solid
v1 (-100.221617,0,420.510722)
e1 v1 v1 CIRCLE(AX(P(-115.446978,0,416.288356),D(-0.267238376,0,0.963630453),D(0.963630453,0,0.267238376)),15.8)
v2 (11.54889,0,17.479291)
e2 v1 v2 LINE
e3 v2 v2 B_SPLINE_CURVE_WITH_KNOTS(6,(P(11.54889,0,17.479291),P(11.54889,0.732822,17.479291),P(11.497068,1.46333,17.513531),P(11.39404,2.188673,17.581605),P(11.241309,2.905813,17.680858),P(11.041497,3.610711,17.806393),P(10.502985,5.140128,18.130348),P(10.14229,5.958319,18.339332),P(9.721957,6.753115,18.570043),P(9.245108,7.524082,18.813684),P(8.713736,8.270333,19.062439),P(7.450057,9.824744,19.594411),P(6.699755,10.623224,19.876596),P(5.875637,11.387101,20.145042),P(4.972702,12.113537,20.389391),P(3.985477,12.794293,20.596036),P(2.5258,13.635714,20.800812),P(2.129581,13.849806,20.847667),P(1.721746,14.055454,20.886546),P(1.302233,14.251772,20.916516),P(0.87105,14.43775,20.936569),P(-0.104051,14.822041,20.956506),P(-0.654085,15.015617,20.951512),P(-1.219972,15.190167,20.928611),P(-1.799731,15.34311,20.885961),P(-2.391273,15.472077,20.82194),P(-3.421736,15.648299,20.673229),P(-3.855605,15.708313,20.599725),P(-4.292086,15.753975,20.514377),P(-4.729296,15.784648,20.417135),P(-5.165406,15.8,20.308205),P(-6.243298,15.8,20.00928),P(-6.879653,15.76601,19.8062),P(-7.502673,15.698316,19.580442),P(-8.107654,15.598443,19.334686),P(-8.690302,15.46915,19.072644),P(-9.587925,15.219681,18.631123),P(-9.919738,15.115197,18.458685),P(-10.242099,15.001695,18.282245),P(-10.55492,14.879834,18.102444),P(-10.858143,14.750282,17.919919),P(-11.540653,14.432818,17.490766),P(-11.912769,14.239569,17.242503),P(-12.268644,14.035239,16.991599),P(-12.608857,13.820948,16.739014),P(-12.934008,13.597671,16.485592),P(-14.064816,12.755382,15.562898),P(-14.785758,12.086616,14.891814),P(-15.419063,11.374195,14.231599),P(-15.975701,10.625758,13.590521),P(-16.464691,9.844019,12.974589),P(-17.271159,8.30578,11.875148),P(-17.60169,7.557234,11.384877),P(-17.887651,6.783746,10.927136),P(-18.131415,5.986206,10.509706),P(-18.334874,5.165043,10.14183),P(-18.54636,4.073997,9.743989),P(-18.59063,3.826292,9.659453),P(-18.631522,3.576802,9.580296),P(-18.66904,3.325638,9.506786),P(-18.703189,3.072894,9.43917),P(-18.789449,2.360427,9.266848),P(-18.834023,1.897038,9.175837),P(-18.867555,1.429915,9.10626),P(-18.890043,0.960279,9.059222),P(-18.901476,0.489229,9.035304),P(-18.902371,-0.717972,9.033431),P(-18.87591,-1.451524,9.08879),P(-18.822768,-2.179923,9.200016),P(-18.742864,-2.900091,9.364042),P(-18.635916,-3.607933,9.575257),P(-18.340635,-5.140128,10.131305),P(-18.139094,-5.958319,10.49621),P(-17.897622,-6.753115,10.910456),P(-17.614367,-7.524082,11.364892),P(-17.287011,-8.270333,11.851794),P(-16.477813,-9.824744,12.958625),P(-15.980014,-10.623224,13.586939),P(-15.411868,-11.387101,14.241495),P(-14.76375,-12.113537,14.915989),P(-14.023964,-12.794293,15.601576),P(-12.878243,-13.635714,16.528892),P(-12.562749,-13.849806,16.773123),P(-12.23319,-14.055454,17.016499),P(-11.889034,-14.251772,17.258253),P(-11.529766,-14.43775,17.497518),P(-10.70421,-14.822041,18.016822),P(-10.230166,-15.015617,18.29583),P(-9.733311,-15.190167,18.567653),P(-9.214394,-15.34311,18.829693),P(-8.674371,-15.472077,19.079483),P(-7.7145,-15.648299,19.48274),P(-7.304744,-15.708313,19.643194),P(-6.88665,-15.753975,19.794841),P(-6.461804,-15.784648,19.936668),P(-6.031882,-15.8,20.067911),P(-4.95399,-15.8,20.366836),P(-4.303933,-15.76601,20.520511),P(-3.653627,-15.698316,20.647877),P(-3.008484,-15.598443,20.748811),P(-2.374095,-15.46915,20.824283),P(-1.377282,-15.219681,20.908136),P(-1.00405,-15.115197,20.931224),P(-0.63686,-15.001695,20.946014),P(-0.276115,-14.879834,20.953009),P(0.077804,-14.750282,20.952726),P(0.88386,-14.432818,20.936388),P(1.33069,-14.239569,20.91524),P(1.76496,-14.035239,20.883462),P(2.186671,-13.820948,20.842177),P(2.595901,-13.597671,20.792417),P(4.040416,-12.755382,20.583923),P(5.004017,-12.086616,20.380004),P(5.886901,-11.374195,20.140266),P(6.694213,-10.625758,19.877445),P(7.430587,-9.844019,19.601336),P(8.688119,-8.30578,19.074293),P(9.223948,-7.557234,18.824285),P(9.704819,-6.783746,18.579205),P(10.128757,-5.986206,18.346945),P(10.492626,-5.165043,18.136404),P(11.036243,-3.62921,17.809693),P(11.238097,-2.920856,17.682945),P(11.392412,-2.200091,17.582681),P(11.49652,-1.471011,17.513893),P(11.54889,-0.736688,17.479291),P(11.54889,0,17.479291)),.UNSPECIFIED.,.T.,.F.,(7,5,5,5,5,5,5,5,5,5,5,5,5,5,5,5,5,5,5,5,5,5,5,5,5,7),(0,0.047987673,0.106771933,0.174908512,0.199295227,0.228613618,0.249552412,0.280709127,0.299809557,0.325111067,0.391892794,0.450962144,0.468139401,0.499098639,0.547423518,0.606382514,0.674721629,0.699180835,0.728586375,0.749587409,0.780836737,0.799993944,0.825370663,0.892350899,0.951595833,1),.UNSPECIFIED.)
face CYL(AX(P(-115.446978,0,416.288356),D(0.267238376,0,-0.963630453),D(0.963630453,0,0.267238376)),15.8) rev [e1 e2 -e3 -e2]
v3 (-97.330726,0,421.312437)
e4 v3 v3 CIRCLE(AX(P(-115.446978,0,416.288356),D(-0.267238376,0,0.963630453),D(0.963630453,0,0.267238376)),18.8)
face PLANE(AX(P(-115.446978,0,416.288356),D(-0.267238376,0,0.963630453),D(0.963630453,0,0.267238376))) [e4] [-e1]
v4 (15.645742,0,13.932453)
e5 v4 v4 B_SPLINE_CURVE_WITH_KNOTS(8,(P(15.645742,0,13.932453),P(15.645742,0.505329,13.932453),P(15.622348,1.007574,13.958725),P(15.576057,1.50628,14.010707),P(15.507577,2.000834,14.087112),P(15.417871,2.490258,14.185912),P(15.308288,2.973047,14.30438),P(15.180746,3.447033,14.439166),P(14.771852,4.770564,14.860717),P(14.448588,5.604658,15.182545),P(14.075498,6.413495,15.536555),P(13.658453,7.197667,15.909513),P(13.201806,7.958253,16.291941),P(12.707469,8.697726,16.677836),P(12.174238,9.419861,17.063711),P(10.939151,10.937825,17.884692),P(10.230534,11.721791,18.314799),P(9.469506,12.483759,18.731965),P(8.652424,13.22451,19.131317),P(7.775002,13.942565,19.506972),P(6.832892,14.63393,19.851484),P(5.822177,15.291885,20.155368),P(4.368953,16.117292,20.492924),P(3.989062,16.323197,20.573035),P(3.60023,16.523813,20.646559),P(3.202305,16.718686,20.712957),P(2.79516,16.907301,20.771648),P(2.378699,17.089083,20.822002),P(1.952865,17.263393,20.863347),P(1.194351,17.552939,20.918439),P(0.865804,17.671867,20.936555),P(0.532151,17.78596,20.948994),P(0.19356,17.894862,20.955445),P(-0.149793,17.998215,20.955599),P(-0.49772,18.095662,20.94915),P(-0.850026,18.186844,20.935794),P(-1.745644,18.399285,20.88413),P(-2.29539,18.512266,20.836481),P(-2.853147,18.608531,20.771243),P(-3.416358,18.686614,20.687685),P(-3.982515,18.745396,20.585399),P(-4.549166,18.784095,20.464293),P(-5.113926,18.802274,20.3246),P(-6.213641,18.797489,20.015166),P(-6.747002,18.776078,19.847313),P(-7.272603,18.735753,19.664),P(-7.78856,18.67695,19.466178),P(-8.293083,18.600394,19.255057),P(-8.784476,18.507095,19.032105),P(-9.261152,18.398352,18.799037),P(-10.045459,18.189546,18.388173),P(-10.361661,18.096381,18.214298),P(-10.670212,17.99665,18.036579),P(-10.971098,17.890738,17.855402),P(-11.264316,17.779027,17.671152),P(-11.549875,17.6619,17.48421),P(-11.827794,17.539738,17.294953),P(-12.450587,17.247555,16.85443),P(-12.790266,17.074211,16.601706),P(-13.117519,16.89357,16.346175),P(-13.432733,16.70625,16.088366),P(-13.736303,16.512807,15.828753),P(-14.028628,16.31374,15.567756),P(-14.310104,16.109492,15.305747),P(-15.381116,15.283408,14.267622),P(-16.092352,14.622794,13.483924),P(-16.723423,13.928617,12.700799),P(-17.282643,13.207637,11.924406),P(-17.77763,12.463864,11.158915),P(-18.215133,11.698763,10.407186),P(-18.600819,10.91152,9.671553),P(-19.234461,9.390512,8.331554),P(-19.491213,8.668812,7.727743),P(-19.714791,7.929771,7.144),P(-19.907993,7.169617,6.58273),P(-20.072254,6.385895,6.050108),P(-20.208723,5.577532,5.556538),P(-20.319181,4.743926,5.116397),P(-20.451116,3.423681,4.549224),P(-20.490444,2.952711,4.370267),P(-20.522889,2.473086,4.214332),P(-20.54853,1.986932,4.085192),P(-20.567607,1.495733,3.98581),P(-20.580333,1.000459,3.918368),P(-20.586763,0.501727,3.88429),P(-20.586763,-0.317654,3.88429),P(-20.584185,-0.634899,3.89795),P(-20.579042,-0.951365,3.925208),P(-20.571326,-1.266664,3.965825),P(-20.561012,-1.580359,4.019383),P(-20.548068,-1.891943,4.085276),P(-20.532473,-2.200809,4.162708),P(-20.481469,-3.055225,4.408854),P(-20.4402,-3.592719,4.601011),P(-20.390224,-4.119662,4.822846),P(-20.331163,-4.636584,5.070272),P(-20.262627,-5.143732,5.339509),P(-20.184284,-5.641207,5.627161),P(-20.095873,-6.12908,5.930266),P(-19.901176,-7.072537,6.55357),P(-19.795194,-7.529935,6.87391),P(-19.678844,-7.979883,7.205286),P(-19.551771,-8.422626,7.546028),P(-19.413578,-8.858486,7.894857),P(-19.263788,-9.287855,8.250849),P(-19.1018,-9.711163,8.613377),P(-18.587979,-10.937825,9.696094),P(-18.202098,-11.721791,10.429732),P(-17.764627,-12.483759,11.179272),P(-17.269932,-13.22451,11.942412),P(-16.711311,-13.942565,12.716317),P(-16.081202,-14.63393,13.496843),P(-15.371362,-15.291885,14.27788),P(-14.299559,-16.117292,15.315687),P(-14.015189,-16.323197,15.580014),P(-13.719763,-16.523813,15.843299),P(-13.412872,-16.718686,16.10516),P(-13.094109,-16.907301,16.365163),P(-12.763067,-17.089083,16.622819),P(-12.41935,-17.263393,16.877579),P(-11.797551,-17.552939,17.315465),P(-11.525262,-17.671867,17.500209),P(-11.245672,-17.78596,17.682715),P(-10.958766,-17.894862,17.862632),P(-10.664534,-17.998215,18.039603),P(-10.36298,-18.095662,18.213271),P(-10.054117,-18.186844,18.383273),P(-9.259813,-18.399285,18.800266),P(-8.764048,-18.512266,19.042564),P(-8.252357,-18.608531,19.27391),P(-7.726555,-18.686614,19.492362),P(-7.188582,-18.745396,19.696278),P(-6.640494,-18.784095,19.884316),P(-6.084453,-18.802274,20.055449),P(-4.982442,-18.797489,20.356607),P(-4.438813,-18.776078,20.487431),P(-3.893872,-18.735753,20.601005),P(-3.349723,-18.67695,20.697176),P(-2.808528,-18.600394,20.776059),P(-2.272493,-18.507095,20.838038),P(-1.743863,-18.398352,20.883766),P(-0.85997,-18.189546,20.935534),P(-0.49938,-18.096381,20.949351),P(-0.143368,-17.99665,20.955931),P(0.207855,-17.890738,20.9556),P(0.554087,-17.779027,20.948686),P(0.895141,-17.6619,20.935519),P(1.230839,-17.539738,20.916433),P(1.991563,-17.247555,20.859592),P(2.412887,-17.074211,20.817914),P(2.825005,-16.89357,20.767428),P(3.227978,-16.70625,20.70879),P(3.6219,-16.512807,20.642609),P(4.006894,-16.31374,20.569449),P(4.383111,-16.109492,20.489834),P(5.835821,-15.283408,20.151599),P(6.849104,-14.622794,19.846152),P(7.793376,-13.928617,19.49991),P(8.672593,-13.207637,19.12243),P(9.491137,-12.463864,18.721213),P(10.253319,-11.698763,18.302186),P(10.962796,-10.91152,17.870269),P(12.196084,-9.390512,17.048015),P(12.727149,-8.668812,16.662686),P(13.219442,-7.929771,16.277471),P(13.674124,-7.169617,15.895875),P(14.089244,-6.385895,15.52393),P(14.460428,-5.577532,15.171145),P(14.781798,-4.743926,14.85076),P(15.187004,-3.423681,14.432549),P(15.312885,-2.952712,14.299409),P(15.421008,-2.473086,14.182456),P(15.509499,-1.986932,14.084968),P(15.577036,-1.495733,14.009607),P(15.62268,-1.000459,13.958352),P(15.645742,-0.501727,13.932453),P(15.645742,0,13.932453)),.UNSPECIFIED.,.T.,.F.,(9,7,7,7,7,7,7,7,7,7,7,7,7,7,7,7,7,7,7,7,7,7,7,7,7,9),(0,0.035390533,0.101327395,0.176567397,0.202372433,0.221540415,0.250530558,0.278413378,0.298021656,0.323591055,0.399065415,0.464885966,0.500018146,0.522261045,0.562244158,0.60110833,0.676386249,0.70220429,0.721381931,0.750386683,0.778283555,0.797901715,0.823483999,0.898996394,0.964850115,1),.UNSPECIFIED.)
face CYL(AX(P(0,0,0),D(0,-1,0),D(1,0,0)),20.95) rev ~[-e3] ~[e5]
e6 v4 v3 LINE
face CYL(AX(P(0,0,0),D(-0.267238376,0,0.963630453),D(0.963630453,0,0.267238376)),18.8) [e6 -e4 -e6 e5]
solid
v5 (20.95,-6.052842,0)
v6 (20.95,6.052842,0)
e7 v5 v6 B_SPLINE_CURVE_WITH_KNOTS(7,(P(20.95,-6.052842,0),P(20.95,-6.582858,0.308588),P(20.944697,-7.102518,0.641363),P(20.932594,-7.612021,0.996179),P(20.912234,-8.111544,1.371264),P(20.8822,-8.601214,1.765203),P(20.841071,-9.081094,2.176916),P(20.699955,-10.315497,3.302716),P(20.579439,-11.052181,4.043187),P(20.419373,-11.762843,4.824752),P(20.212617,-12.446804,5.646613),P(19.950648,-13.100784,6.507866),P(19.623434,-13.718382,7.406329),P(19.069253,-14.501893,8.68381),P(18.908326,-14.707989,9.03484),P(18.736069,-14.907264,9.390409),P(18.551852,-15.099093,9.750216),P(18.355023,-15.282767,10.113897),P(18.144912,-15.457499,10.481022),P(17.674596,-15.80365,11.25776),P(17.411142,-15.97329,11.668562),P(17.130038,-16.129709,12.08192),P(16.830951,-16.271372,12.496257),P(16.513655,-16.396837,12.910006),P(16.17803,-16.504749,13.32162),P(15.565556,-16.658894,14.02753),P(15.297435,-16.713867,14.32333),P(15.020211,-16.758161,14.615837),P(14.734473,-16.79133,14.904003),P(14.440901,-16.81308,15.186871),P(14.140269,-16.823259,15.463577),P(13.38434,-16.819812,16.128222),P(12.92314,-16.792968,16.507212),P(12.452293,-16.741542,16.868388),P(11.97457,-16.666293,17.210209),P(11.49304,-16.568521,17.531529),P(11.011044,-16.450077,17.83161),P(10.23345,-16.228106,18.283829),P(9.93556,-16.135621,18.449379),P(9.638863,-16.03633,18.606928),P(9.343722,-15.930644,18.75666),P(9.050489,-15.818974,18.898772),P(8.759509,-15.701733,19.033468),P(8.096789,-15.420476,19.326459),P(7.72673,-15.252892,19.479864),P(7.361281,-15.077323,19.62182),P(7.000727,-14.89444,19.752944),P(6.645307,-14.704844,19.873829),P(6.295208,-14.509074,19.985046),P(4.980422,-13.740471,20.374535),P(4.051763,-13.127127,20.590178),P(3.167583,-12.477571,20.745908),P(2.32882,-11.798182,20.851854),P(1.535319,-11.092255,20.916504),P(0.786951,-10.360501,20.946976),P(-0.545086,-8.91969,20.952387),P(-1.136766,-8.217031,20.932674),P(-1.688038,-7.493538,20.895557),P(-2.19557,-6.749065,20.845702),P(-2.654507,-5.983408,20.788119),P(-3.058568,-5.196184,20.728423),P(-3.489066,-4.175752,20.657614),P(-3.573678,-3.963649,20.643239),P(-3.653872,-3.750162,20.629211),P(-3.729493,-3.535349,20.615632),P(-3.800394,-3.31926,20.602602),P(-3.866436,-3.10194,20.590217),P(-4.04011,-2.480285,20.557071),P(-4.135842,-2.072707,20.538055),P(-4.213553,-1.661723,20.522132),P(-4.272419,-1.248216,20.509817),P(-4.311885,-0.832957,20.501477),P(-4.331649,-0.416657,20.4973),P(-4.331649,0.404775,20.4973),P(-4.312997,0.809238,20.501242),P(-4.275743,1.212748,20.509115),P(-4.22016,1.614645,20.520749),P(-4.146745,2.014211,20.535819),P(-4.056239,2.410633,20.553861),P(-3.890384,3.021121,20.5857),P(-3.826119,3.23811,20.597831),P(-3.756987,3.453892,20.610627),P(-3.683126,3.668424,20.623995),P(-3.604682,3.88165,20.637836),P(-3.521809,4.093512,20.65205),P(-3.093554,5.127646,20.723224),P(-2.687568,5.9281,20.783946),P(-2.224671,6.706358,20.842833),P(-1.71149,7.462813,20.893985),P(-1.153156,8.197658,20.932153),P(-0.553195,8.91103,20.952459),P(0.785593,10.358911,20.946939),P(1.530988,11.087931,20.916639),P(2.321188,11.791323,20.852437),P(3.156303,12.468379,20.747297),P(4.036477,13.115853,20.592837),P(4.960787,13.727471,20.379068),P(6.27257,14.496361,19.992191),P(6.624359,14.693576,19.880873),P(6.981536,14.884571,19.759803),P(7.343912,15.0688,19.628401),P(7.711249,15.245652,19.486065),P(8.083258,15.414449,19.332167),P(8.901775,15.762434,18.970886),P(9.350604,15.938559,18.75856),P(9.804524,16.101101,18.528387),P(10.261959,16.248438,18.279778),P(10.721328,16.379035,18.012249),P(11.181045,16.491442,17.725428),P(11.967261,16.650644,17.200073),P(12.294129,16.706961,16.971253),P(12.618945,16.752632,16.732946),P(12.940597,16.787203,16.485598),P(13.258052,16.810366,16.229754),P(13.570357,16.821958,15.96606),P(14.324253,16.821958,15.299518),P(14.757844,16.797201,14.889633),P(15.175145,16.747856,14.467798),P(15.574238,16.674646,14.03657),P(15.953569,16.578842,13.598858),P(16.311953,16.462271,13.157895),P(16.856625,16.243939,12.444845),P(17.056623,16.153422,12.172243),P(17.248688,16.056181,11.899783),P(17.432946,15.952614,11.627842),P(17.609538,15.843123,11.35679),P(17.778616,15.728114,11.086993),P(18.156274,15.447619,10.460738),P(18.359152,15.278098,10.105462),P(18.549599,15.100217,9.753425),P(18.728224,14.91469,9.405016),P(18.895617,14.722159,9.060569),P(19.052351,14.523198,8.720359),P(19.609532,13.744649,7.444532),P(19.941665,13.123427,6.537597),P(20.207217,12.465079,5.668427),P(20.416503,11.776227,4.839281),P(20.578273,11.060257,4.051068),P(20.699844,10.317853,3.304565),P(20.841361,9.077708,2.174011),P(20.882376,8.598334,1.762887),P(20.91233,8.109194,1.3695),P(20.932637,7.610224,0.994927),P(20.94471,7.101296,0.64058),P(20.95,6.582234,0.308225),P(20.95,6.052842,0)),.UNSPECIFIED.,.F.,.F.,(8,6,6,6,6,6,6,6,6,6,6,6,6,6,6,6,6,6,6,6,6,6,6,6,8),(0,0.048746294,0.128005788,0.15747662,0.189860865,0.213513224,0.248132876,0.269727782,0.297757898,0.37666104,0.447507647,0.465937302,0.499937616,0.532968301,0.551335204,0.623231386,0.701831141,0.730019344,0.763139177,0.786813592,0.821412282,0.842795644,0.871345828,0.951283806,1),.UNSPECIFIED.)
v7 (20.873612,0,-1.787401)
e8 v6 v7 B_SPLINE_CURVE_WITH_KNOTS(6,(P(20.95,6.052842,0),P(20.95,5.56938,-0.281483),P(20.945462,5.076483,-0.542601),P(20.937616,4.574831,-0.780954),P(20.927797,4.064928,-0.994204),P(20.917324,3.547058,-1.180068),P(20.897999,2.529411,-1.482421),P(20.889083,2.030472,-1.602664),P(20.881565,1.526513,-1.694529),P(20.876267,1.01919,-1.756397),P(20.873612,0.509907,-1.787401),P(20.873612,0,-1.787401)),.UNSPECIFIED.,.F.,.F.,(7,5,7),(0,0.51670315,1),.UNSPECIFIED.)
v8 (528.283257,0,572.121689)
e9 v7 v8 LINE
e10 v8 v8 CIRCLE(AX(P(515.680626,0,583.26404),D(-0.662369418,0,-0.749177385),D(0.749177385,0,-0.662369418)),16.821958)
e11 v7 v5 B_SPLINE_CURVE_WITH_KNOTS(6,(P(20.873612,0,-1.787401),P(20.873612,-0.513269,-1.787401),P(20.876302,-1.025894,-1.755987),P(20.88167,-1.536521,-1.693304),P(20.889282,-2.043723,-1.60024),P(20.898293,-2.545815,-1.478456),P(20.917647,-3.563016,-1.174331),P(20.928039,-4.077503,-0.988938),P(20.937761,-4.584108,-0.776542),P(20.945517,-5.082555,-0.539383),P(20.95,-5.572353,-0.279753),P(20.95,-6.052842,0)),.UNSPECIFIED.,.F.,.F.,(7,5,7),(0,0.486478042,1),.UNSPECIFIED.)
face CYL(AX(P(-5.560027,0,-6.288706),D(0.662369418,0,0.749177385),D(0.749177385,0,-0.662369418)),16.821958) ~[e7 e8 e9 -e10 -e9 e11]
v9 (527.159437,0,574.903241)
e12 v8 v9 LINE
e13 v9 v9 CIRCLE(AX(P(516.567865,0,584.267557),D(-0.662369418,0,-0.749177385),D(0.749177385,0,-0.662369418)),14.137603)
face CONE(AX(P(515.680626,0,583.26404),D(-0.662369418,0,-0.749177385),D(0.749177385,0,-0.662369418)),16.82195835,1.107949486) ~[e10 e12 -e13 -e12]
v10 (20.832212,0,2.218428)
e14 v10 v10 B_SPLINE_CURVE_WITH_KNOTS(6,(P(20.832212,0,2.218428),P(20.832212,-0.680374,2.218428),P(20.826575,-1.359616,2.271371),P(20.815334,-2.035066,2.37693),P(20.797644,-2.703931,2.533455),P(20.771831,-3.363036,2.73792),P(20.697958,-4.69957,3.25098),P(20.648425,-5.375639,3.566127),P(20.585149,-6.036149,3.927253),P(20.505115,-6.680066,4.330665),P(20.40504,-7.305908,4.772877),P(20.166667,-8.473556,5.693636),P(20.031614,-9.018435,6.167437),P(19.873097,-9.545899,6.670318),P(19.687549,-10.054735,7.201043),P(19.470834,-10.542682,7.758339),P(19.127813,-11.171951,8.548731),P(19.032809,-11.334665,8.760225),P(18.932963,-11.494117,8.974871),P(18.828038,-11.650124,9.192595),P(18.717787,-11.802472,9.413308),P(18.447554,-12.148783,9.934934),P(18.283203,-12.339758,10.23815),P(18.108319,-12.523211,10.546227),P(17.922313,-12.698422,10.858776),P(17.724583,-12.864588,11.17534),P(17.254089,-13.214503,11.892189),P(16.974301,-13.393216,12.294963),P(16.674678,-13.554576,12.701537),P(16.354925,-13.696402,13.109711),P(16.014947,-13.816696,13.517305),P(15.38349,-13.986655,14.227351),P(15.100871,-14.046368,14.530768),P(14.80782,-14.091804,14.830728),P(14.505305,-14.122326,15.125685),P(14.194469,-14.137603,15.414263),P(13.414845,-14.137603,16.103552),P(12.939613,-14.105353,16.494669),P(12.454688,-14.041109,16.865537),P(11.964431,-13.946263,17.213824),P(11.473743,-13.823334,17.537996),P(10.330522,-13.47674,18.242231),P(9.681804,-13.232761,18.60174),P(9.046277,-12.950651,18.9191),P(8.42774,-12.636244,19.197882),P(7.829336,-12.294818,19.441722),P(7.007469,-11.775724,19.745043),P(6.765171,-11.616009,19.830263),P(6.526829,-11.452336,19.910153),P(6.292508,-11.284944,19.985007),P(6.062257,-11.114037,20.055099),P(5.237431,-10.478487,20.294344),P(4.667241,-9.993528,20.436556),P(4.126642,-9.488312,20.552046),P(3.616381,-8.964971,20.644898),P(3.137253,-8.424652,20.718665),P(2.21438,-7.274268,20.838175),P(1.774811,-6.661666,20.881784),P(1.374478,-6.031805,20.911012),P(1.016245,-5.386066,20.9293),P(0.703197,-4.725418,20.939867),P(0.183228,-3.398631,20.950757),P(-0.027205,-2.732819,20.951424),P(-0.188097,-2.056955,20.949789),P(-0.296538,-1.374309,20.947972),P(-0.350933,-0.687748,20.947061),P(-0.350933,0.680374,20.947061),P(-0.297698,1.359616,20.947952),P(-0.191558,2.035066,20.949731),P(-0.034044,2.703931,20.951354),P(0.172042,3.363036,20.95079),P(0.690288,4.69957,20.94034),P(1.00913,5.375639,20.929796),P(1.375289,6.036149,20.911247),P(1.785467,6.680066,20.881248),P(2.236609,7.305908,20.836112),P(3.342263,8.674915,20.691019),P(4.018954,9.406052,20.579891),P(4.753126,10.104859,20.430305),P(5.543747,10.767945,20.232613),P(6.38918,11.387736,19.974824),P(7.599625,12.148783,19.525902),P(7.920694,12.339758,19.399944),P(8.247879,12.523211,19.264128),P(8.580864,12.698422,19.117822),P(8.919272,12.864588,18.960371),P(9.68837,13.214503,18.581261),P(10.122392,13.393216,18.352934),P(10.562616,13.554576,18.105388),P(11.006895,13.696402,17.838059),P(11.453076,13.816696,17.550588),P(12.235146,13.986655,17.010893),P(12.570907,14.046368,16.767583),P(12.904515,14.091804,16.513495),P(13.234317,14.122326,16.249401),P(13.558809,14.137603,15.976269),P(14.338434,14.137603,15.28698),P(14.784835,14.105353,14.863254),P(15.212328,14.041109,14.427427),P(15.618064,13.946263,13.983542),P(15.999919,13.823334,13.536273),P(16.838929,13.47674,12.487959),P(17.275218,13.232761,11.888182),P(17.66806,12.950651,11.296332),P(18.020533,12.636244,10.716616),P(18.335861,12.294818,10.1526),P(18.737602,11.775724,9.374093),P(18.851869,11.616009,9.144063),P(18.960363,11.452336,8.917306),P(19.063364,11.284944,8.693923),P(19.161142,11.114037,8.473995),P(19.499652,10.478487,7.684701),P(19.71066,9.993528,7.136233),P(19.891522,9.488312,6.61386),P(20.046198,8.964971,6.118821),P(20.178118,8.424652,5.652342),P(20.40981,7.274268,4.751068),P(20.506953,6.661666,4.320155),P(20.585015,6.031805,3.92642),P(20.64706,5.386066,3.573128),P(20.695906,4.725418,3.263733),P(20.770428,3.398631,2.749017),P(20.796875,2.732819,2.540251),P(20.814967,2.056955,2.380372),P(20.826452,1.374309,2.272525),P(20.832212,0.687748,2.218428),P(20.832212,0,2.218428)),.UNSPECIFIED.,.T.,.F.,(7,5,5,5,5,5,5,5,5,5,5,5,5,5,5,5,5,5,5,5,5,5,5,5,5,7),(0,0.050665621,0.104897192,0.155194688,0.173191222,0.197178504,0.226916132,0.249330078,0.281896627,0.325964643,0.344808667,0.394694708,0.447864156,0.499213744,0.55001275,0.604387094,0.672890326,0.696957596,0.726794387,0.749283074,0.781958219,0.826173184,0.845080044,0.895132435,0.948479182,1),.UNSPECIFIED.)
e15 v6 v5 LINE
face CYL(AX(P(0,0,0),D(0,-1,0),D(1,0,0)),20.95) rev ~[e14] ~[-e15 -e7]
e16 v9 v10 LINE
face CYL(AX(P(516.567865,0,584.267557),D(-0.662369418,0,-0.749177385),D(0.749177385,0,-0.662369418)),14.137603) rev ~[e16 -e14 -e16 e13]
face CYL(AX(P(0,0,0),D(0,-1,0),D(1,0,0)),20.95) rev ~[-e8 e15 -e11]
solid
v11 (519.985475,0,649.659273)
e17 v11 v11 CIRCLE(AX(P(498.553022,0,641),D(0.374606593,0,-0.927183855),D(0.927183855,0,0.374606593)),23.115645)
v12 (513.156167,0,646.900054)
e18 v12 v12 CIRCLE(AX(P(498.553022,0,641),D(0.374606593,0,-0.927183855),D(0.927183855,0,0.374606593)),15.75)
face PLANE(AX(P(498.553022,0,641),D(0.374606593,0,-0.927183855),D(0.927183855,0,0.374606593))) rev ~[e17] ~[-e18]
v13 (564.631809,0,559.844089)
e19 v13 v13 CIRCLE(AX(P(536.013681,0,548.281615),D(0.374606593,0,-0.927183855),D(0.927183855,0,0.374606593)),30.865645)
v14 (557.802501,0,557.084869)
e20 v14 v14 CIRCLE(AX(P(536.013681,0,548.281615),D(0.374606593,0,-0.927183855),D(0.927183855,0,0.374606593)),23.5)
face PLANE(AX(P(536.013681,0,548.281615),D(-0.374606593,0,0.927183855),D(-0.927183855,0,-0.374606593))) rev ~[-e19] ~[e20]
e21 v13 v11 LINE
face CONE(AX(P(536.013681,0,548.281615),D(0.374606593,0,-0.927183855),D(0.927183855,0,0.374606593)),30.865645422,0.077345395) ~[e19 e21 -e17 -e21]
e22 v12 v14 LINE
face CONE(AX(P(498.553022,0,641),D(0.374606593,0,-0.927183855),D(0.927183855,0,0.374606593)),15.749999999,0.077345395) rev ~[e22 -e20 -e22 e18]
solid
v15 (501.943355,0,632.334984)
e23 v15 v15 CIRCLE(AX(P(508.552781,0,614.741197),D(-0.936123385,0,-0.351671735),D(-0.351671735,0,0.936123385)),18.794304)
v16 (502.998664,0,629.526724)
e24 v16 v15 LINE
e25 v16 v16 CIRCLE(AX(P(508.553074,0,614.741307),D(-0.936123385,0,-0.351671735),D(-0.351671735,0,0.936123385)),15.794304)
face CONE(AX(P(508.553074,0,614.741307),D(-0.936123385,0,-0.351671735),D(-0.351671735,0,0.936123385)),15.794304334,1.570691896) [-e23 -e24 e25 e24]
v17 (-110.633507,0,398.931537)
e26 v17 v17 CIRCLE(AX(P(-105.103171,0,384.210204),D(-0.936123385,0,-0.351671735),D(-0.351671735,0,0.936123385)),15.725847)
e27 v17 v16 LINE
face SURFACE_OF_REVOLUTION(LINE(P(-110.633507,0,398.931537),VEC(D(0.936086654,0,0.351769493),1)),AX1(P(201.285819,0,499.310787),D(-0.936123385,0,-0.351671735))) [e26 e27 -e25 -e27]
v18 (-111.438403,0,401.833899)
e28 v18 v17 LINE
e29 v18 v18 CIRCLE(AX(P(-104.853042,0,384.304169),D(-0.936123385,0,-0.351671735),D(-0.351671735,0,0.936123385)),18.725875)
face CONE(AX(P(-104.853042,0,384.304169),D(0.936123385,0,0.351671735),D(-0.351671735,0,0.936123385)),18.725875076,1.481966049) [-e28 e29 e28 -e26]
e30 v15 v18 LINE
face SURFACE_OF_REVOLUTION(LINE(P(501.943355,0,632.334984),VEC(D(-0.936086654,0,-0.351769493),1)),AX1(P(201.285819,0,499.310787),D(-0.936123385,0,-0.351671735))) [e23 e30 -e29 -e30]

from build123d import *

# Parameters (mm, degrees)
F3_R      = 20.95
F4_DEPTH  = 34
F11_DEPTH = 34


with BuildPart() as f2:
    # F1 (on Front) → F2 (revolve)
    with BuildSketch(Plane.XZ):
        Polygon((-100.2216173051, 420.5107221282), (15.2253611607, 4.222366342), (18.1162525203, 5.0240814703), (-97.3307259455, 421.3124372564), align=None)
    revolve(axis=Axis((-57.7234892329, 0, 208.1441778931), (-0.2672383761, 0, 0.9636304532)))

    # F3 (on Front) → F4 (cut, symmetric)
    with BuildSketch(Plane.XZ):
        Circle(F3_R)
    extrude(amount=F4_DEPTH, both=True, mode=Mode.SUBTRACT)


with BuildPart() as f6:
    # F5 (on Front) → F6 (revolve)
    with BuildSketch(Plane.XZ):
        Polygon((519.9854747557, 649.6592731855), (513.1561672436, 646.9000538463), (557.8025014581, 557.0848694886), (564.6318089702, 559.8440888278), align=None)
    revolve(axis=Axis((517.283351205, 0, 594.6408072717), (0.3746065934, 0, -0.9271838546)))


with BuildPart() as f8:
    # F7 (on Front) → F8 (revolve)
    with BuildSketch(Plane.XZ):
        Polygon((501.9433554963, 632.3349844185), (-111.4384028246, 401.833898988), (-110.6335066782, 398.9315372473), (502.9986639738, 629.5267244559), align=None)
    revolve(axis=Axis((201.2858190491, 0, 499.3107872101), (-0.9361233845, 0, -0.3516717347)))


with BuildPart() as f10:
    # F9 (on Front) → F10 (revolve)
    with BuildSketch(Plane.XZ):
        Polygon((5.918784176, -14.6495049022), (7.0426039562, -17.4310564659), (528.2832571646, 572.1216891941), (527.1594373843, 574.9032407578), align=None)
    revolve(axis=Axis((260.6203266042, 0, 294.77637283), (-0.6623694184, 0, -0.7491773845)))

    # F3 (on Front) → F11 (cut, symmetric)
    with BuildSketch(Plane.XZ):
        Circle(F3_R)
    extrude(amount=F11_DEPTH, both=True, mode=Mode.SUBTRACT)


solid = Compound([f2.part, f6.part, f8.part, f10.part])
